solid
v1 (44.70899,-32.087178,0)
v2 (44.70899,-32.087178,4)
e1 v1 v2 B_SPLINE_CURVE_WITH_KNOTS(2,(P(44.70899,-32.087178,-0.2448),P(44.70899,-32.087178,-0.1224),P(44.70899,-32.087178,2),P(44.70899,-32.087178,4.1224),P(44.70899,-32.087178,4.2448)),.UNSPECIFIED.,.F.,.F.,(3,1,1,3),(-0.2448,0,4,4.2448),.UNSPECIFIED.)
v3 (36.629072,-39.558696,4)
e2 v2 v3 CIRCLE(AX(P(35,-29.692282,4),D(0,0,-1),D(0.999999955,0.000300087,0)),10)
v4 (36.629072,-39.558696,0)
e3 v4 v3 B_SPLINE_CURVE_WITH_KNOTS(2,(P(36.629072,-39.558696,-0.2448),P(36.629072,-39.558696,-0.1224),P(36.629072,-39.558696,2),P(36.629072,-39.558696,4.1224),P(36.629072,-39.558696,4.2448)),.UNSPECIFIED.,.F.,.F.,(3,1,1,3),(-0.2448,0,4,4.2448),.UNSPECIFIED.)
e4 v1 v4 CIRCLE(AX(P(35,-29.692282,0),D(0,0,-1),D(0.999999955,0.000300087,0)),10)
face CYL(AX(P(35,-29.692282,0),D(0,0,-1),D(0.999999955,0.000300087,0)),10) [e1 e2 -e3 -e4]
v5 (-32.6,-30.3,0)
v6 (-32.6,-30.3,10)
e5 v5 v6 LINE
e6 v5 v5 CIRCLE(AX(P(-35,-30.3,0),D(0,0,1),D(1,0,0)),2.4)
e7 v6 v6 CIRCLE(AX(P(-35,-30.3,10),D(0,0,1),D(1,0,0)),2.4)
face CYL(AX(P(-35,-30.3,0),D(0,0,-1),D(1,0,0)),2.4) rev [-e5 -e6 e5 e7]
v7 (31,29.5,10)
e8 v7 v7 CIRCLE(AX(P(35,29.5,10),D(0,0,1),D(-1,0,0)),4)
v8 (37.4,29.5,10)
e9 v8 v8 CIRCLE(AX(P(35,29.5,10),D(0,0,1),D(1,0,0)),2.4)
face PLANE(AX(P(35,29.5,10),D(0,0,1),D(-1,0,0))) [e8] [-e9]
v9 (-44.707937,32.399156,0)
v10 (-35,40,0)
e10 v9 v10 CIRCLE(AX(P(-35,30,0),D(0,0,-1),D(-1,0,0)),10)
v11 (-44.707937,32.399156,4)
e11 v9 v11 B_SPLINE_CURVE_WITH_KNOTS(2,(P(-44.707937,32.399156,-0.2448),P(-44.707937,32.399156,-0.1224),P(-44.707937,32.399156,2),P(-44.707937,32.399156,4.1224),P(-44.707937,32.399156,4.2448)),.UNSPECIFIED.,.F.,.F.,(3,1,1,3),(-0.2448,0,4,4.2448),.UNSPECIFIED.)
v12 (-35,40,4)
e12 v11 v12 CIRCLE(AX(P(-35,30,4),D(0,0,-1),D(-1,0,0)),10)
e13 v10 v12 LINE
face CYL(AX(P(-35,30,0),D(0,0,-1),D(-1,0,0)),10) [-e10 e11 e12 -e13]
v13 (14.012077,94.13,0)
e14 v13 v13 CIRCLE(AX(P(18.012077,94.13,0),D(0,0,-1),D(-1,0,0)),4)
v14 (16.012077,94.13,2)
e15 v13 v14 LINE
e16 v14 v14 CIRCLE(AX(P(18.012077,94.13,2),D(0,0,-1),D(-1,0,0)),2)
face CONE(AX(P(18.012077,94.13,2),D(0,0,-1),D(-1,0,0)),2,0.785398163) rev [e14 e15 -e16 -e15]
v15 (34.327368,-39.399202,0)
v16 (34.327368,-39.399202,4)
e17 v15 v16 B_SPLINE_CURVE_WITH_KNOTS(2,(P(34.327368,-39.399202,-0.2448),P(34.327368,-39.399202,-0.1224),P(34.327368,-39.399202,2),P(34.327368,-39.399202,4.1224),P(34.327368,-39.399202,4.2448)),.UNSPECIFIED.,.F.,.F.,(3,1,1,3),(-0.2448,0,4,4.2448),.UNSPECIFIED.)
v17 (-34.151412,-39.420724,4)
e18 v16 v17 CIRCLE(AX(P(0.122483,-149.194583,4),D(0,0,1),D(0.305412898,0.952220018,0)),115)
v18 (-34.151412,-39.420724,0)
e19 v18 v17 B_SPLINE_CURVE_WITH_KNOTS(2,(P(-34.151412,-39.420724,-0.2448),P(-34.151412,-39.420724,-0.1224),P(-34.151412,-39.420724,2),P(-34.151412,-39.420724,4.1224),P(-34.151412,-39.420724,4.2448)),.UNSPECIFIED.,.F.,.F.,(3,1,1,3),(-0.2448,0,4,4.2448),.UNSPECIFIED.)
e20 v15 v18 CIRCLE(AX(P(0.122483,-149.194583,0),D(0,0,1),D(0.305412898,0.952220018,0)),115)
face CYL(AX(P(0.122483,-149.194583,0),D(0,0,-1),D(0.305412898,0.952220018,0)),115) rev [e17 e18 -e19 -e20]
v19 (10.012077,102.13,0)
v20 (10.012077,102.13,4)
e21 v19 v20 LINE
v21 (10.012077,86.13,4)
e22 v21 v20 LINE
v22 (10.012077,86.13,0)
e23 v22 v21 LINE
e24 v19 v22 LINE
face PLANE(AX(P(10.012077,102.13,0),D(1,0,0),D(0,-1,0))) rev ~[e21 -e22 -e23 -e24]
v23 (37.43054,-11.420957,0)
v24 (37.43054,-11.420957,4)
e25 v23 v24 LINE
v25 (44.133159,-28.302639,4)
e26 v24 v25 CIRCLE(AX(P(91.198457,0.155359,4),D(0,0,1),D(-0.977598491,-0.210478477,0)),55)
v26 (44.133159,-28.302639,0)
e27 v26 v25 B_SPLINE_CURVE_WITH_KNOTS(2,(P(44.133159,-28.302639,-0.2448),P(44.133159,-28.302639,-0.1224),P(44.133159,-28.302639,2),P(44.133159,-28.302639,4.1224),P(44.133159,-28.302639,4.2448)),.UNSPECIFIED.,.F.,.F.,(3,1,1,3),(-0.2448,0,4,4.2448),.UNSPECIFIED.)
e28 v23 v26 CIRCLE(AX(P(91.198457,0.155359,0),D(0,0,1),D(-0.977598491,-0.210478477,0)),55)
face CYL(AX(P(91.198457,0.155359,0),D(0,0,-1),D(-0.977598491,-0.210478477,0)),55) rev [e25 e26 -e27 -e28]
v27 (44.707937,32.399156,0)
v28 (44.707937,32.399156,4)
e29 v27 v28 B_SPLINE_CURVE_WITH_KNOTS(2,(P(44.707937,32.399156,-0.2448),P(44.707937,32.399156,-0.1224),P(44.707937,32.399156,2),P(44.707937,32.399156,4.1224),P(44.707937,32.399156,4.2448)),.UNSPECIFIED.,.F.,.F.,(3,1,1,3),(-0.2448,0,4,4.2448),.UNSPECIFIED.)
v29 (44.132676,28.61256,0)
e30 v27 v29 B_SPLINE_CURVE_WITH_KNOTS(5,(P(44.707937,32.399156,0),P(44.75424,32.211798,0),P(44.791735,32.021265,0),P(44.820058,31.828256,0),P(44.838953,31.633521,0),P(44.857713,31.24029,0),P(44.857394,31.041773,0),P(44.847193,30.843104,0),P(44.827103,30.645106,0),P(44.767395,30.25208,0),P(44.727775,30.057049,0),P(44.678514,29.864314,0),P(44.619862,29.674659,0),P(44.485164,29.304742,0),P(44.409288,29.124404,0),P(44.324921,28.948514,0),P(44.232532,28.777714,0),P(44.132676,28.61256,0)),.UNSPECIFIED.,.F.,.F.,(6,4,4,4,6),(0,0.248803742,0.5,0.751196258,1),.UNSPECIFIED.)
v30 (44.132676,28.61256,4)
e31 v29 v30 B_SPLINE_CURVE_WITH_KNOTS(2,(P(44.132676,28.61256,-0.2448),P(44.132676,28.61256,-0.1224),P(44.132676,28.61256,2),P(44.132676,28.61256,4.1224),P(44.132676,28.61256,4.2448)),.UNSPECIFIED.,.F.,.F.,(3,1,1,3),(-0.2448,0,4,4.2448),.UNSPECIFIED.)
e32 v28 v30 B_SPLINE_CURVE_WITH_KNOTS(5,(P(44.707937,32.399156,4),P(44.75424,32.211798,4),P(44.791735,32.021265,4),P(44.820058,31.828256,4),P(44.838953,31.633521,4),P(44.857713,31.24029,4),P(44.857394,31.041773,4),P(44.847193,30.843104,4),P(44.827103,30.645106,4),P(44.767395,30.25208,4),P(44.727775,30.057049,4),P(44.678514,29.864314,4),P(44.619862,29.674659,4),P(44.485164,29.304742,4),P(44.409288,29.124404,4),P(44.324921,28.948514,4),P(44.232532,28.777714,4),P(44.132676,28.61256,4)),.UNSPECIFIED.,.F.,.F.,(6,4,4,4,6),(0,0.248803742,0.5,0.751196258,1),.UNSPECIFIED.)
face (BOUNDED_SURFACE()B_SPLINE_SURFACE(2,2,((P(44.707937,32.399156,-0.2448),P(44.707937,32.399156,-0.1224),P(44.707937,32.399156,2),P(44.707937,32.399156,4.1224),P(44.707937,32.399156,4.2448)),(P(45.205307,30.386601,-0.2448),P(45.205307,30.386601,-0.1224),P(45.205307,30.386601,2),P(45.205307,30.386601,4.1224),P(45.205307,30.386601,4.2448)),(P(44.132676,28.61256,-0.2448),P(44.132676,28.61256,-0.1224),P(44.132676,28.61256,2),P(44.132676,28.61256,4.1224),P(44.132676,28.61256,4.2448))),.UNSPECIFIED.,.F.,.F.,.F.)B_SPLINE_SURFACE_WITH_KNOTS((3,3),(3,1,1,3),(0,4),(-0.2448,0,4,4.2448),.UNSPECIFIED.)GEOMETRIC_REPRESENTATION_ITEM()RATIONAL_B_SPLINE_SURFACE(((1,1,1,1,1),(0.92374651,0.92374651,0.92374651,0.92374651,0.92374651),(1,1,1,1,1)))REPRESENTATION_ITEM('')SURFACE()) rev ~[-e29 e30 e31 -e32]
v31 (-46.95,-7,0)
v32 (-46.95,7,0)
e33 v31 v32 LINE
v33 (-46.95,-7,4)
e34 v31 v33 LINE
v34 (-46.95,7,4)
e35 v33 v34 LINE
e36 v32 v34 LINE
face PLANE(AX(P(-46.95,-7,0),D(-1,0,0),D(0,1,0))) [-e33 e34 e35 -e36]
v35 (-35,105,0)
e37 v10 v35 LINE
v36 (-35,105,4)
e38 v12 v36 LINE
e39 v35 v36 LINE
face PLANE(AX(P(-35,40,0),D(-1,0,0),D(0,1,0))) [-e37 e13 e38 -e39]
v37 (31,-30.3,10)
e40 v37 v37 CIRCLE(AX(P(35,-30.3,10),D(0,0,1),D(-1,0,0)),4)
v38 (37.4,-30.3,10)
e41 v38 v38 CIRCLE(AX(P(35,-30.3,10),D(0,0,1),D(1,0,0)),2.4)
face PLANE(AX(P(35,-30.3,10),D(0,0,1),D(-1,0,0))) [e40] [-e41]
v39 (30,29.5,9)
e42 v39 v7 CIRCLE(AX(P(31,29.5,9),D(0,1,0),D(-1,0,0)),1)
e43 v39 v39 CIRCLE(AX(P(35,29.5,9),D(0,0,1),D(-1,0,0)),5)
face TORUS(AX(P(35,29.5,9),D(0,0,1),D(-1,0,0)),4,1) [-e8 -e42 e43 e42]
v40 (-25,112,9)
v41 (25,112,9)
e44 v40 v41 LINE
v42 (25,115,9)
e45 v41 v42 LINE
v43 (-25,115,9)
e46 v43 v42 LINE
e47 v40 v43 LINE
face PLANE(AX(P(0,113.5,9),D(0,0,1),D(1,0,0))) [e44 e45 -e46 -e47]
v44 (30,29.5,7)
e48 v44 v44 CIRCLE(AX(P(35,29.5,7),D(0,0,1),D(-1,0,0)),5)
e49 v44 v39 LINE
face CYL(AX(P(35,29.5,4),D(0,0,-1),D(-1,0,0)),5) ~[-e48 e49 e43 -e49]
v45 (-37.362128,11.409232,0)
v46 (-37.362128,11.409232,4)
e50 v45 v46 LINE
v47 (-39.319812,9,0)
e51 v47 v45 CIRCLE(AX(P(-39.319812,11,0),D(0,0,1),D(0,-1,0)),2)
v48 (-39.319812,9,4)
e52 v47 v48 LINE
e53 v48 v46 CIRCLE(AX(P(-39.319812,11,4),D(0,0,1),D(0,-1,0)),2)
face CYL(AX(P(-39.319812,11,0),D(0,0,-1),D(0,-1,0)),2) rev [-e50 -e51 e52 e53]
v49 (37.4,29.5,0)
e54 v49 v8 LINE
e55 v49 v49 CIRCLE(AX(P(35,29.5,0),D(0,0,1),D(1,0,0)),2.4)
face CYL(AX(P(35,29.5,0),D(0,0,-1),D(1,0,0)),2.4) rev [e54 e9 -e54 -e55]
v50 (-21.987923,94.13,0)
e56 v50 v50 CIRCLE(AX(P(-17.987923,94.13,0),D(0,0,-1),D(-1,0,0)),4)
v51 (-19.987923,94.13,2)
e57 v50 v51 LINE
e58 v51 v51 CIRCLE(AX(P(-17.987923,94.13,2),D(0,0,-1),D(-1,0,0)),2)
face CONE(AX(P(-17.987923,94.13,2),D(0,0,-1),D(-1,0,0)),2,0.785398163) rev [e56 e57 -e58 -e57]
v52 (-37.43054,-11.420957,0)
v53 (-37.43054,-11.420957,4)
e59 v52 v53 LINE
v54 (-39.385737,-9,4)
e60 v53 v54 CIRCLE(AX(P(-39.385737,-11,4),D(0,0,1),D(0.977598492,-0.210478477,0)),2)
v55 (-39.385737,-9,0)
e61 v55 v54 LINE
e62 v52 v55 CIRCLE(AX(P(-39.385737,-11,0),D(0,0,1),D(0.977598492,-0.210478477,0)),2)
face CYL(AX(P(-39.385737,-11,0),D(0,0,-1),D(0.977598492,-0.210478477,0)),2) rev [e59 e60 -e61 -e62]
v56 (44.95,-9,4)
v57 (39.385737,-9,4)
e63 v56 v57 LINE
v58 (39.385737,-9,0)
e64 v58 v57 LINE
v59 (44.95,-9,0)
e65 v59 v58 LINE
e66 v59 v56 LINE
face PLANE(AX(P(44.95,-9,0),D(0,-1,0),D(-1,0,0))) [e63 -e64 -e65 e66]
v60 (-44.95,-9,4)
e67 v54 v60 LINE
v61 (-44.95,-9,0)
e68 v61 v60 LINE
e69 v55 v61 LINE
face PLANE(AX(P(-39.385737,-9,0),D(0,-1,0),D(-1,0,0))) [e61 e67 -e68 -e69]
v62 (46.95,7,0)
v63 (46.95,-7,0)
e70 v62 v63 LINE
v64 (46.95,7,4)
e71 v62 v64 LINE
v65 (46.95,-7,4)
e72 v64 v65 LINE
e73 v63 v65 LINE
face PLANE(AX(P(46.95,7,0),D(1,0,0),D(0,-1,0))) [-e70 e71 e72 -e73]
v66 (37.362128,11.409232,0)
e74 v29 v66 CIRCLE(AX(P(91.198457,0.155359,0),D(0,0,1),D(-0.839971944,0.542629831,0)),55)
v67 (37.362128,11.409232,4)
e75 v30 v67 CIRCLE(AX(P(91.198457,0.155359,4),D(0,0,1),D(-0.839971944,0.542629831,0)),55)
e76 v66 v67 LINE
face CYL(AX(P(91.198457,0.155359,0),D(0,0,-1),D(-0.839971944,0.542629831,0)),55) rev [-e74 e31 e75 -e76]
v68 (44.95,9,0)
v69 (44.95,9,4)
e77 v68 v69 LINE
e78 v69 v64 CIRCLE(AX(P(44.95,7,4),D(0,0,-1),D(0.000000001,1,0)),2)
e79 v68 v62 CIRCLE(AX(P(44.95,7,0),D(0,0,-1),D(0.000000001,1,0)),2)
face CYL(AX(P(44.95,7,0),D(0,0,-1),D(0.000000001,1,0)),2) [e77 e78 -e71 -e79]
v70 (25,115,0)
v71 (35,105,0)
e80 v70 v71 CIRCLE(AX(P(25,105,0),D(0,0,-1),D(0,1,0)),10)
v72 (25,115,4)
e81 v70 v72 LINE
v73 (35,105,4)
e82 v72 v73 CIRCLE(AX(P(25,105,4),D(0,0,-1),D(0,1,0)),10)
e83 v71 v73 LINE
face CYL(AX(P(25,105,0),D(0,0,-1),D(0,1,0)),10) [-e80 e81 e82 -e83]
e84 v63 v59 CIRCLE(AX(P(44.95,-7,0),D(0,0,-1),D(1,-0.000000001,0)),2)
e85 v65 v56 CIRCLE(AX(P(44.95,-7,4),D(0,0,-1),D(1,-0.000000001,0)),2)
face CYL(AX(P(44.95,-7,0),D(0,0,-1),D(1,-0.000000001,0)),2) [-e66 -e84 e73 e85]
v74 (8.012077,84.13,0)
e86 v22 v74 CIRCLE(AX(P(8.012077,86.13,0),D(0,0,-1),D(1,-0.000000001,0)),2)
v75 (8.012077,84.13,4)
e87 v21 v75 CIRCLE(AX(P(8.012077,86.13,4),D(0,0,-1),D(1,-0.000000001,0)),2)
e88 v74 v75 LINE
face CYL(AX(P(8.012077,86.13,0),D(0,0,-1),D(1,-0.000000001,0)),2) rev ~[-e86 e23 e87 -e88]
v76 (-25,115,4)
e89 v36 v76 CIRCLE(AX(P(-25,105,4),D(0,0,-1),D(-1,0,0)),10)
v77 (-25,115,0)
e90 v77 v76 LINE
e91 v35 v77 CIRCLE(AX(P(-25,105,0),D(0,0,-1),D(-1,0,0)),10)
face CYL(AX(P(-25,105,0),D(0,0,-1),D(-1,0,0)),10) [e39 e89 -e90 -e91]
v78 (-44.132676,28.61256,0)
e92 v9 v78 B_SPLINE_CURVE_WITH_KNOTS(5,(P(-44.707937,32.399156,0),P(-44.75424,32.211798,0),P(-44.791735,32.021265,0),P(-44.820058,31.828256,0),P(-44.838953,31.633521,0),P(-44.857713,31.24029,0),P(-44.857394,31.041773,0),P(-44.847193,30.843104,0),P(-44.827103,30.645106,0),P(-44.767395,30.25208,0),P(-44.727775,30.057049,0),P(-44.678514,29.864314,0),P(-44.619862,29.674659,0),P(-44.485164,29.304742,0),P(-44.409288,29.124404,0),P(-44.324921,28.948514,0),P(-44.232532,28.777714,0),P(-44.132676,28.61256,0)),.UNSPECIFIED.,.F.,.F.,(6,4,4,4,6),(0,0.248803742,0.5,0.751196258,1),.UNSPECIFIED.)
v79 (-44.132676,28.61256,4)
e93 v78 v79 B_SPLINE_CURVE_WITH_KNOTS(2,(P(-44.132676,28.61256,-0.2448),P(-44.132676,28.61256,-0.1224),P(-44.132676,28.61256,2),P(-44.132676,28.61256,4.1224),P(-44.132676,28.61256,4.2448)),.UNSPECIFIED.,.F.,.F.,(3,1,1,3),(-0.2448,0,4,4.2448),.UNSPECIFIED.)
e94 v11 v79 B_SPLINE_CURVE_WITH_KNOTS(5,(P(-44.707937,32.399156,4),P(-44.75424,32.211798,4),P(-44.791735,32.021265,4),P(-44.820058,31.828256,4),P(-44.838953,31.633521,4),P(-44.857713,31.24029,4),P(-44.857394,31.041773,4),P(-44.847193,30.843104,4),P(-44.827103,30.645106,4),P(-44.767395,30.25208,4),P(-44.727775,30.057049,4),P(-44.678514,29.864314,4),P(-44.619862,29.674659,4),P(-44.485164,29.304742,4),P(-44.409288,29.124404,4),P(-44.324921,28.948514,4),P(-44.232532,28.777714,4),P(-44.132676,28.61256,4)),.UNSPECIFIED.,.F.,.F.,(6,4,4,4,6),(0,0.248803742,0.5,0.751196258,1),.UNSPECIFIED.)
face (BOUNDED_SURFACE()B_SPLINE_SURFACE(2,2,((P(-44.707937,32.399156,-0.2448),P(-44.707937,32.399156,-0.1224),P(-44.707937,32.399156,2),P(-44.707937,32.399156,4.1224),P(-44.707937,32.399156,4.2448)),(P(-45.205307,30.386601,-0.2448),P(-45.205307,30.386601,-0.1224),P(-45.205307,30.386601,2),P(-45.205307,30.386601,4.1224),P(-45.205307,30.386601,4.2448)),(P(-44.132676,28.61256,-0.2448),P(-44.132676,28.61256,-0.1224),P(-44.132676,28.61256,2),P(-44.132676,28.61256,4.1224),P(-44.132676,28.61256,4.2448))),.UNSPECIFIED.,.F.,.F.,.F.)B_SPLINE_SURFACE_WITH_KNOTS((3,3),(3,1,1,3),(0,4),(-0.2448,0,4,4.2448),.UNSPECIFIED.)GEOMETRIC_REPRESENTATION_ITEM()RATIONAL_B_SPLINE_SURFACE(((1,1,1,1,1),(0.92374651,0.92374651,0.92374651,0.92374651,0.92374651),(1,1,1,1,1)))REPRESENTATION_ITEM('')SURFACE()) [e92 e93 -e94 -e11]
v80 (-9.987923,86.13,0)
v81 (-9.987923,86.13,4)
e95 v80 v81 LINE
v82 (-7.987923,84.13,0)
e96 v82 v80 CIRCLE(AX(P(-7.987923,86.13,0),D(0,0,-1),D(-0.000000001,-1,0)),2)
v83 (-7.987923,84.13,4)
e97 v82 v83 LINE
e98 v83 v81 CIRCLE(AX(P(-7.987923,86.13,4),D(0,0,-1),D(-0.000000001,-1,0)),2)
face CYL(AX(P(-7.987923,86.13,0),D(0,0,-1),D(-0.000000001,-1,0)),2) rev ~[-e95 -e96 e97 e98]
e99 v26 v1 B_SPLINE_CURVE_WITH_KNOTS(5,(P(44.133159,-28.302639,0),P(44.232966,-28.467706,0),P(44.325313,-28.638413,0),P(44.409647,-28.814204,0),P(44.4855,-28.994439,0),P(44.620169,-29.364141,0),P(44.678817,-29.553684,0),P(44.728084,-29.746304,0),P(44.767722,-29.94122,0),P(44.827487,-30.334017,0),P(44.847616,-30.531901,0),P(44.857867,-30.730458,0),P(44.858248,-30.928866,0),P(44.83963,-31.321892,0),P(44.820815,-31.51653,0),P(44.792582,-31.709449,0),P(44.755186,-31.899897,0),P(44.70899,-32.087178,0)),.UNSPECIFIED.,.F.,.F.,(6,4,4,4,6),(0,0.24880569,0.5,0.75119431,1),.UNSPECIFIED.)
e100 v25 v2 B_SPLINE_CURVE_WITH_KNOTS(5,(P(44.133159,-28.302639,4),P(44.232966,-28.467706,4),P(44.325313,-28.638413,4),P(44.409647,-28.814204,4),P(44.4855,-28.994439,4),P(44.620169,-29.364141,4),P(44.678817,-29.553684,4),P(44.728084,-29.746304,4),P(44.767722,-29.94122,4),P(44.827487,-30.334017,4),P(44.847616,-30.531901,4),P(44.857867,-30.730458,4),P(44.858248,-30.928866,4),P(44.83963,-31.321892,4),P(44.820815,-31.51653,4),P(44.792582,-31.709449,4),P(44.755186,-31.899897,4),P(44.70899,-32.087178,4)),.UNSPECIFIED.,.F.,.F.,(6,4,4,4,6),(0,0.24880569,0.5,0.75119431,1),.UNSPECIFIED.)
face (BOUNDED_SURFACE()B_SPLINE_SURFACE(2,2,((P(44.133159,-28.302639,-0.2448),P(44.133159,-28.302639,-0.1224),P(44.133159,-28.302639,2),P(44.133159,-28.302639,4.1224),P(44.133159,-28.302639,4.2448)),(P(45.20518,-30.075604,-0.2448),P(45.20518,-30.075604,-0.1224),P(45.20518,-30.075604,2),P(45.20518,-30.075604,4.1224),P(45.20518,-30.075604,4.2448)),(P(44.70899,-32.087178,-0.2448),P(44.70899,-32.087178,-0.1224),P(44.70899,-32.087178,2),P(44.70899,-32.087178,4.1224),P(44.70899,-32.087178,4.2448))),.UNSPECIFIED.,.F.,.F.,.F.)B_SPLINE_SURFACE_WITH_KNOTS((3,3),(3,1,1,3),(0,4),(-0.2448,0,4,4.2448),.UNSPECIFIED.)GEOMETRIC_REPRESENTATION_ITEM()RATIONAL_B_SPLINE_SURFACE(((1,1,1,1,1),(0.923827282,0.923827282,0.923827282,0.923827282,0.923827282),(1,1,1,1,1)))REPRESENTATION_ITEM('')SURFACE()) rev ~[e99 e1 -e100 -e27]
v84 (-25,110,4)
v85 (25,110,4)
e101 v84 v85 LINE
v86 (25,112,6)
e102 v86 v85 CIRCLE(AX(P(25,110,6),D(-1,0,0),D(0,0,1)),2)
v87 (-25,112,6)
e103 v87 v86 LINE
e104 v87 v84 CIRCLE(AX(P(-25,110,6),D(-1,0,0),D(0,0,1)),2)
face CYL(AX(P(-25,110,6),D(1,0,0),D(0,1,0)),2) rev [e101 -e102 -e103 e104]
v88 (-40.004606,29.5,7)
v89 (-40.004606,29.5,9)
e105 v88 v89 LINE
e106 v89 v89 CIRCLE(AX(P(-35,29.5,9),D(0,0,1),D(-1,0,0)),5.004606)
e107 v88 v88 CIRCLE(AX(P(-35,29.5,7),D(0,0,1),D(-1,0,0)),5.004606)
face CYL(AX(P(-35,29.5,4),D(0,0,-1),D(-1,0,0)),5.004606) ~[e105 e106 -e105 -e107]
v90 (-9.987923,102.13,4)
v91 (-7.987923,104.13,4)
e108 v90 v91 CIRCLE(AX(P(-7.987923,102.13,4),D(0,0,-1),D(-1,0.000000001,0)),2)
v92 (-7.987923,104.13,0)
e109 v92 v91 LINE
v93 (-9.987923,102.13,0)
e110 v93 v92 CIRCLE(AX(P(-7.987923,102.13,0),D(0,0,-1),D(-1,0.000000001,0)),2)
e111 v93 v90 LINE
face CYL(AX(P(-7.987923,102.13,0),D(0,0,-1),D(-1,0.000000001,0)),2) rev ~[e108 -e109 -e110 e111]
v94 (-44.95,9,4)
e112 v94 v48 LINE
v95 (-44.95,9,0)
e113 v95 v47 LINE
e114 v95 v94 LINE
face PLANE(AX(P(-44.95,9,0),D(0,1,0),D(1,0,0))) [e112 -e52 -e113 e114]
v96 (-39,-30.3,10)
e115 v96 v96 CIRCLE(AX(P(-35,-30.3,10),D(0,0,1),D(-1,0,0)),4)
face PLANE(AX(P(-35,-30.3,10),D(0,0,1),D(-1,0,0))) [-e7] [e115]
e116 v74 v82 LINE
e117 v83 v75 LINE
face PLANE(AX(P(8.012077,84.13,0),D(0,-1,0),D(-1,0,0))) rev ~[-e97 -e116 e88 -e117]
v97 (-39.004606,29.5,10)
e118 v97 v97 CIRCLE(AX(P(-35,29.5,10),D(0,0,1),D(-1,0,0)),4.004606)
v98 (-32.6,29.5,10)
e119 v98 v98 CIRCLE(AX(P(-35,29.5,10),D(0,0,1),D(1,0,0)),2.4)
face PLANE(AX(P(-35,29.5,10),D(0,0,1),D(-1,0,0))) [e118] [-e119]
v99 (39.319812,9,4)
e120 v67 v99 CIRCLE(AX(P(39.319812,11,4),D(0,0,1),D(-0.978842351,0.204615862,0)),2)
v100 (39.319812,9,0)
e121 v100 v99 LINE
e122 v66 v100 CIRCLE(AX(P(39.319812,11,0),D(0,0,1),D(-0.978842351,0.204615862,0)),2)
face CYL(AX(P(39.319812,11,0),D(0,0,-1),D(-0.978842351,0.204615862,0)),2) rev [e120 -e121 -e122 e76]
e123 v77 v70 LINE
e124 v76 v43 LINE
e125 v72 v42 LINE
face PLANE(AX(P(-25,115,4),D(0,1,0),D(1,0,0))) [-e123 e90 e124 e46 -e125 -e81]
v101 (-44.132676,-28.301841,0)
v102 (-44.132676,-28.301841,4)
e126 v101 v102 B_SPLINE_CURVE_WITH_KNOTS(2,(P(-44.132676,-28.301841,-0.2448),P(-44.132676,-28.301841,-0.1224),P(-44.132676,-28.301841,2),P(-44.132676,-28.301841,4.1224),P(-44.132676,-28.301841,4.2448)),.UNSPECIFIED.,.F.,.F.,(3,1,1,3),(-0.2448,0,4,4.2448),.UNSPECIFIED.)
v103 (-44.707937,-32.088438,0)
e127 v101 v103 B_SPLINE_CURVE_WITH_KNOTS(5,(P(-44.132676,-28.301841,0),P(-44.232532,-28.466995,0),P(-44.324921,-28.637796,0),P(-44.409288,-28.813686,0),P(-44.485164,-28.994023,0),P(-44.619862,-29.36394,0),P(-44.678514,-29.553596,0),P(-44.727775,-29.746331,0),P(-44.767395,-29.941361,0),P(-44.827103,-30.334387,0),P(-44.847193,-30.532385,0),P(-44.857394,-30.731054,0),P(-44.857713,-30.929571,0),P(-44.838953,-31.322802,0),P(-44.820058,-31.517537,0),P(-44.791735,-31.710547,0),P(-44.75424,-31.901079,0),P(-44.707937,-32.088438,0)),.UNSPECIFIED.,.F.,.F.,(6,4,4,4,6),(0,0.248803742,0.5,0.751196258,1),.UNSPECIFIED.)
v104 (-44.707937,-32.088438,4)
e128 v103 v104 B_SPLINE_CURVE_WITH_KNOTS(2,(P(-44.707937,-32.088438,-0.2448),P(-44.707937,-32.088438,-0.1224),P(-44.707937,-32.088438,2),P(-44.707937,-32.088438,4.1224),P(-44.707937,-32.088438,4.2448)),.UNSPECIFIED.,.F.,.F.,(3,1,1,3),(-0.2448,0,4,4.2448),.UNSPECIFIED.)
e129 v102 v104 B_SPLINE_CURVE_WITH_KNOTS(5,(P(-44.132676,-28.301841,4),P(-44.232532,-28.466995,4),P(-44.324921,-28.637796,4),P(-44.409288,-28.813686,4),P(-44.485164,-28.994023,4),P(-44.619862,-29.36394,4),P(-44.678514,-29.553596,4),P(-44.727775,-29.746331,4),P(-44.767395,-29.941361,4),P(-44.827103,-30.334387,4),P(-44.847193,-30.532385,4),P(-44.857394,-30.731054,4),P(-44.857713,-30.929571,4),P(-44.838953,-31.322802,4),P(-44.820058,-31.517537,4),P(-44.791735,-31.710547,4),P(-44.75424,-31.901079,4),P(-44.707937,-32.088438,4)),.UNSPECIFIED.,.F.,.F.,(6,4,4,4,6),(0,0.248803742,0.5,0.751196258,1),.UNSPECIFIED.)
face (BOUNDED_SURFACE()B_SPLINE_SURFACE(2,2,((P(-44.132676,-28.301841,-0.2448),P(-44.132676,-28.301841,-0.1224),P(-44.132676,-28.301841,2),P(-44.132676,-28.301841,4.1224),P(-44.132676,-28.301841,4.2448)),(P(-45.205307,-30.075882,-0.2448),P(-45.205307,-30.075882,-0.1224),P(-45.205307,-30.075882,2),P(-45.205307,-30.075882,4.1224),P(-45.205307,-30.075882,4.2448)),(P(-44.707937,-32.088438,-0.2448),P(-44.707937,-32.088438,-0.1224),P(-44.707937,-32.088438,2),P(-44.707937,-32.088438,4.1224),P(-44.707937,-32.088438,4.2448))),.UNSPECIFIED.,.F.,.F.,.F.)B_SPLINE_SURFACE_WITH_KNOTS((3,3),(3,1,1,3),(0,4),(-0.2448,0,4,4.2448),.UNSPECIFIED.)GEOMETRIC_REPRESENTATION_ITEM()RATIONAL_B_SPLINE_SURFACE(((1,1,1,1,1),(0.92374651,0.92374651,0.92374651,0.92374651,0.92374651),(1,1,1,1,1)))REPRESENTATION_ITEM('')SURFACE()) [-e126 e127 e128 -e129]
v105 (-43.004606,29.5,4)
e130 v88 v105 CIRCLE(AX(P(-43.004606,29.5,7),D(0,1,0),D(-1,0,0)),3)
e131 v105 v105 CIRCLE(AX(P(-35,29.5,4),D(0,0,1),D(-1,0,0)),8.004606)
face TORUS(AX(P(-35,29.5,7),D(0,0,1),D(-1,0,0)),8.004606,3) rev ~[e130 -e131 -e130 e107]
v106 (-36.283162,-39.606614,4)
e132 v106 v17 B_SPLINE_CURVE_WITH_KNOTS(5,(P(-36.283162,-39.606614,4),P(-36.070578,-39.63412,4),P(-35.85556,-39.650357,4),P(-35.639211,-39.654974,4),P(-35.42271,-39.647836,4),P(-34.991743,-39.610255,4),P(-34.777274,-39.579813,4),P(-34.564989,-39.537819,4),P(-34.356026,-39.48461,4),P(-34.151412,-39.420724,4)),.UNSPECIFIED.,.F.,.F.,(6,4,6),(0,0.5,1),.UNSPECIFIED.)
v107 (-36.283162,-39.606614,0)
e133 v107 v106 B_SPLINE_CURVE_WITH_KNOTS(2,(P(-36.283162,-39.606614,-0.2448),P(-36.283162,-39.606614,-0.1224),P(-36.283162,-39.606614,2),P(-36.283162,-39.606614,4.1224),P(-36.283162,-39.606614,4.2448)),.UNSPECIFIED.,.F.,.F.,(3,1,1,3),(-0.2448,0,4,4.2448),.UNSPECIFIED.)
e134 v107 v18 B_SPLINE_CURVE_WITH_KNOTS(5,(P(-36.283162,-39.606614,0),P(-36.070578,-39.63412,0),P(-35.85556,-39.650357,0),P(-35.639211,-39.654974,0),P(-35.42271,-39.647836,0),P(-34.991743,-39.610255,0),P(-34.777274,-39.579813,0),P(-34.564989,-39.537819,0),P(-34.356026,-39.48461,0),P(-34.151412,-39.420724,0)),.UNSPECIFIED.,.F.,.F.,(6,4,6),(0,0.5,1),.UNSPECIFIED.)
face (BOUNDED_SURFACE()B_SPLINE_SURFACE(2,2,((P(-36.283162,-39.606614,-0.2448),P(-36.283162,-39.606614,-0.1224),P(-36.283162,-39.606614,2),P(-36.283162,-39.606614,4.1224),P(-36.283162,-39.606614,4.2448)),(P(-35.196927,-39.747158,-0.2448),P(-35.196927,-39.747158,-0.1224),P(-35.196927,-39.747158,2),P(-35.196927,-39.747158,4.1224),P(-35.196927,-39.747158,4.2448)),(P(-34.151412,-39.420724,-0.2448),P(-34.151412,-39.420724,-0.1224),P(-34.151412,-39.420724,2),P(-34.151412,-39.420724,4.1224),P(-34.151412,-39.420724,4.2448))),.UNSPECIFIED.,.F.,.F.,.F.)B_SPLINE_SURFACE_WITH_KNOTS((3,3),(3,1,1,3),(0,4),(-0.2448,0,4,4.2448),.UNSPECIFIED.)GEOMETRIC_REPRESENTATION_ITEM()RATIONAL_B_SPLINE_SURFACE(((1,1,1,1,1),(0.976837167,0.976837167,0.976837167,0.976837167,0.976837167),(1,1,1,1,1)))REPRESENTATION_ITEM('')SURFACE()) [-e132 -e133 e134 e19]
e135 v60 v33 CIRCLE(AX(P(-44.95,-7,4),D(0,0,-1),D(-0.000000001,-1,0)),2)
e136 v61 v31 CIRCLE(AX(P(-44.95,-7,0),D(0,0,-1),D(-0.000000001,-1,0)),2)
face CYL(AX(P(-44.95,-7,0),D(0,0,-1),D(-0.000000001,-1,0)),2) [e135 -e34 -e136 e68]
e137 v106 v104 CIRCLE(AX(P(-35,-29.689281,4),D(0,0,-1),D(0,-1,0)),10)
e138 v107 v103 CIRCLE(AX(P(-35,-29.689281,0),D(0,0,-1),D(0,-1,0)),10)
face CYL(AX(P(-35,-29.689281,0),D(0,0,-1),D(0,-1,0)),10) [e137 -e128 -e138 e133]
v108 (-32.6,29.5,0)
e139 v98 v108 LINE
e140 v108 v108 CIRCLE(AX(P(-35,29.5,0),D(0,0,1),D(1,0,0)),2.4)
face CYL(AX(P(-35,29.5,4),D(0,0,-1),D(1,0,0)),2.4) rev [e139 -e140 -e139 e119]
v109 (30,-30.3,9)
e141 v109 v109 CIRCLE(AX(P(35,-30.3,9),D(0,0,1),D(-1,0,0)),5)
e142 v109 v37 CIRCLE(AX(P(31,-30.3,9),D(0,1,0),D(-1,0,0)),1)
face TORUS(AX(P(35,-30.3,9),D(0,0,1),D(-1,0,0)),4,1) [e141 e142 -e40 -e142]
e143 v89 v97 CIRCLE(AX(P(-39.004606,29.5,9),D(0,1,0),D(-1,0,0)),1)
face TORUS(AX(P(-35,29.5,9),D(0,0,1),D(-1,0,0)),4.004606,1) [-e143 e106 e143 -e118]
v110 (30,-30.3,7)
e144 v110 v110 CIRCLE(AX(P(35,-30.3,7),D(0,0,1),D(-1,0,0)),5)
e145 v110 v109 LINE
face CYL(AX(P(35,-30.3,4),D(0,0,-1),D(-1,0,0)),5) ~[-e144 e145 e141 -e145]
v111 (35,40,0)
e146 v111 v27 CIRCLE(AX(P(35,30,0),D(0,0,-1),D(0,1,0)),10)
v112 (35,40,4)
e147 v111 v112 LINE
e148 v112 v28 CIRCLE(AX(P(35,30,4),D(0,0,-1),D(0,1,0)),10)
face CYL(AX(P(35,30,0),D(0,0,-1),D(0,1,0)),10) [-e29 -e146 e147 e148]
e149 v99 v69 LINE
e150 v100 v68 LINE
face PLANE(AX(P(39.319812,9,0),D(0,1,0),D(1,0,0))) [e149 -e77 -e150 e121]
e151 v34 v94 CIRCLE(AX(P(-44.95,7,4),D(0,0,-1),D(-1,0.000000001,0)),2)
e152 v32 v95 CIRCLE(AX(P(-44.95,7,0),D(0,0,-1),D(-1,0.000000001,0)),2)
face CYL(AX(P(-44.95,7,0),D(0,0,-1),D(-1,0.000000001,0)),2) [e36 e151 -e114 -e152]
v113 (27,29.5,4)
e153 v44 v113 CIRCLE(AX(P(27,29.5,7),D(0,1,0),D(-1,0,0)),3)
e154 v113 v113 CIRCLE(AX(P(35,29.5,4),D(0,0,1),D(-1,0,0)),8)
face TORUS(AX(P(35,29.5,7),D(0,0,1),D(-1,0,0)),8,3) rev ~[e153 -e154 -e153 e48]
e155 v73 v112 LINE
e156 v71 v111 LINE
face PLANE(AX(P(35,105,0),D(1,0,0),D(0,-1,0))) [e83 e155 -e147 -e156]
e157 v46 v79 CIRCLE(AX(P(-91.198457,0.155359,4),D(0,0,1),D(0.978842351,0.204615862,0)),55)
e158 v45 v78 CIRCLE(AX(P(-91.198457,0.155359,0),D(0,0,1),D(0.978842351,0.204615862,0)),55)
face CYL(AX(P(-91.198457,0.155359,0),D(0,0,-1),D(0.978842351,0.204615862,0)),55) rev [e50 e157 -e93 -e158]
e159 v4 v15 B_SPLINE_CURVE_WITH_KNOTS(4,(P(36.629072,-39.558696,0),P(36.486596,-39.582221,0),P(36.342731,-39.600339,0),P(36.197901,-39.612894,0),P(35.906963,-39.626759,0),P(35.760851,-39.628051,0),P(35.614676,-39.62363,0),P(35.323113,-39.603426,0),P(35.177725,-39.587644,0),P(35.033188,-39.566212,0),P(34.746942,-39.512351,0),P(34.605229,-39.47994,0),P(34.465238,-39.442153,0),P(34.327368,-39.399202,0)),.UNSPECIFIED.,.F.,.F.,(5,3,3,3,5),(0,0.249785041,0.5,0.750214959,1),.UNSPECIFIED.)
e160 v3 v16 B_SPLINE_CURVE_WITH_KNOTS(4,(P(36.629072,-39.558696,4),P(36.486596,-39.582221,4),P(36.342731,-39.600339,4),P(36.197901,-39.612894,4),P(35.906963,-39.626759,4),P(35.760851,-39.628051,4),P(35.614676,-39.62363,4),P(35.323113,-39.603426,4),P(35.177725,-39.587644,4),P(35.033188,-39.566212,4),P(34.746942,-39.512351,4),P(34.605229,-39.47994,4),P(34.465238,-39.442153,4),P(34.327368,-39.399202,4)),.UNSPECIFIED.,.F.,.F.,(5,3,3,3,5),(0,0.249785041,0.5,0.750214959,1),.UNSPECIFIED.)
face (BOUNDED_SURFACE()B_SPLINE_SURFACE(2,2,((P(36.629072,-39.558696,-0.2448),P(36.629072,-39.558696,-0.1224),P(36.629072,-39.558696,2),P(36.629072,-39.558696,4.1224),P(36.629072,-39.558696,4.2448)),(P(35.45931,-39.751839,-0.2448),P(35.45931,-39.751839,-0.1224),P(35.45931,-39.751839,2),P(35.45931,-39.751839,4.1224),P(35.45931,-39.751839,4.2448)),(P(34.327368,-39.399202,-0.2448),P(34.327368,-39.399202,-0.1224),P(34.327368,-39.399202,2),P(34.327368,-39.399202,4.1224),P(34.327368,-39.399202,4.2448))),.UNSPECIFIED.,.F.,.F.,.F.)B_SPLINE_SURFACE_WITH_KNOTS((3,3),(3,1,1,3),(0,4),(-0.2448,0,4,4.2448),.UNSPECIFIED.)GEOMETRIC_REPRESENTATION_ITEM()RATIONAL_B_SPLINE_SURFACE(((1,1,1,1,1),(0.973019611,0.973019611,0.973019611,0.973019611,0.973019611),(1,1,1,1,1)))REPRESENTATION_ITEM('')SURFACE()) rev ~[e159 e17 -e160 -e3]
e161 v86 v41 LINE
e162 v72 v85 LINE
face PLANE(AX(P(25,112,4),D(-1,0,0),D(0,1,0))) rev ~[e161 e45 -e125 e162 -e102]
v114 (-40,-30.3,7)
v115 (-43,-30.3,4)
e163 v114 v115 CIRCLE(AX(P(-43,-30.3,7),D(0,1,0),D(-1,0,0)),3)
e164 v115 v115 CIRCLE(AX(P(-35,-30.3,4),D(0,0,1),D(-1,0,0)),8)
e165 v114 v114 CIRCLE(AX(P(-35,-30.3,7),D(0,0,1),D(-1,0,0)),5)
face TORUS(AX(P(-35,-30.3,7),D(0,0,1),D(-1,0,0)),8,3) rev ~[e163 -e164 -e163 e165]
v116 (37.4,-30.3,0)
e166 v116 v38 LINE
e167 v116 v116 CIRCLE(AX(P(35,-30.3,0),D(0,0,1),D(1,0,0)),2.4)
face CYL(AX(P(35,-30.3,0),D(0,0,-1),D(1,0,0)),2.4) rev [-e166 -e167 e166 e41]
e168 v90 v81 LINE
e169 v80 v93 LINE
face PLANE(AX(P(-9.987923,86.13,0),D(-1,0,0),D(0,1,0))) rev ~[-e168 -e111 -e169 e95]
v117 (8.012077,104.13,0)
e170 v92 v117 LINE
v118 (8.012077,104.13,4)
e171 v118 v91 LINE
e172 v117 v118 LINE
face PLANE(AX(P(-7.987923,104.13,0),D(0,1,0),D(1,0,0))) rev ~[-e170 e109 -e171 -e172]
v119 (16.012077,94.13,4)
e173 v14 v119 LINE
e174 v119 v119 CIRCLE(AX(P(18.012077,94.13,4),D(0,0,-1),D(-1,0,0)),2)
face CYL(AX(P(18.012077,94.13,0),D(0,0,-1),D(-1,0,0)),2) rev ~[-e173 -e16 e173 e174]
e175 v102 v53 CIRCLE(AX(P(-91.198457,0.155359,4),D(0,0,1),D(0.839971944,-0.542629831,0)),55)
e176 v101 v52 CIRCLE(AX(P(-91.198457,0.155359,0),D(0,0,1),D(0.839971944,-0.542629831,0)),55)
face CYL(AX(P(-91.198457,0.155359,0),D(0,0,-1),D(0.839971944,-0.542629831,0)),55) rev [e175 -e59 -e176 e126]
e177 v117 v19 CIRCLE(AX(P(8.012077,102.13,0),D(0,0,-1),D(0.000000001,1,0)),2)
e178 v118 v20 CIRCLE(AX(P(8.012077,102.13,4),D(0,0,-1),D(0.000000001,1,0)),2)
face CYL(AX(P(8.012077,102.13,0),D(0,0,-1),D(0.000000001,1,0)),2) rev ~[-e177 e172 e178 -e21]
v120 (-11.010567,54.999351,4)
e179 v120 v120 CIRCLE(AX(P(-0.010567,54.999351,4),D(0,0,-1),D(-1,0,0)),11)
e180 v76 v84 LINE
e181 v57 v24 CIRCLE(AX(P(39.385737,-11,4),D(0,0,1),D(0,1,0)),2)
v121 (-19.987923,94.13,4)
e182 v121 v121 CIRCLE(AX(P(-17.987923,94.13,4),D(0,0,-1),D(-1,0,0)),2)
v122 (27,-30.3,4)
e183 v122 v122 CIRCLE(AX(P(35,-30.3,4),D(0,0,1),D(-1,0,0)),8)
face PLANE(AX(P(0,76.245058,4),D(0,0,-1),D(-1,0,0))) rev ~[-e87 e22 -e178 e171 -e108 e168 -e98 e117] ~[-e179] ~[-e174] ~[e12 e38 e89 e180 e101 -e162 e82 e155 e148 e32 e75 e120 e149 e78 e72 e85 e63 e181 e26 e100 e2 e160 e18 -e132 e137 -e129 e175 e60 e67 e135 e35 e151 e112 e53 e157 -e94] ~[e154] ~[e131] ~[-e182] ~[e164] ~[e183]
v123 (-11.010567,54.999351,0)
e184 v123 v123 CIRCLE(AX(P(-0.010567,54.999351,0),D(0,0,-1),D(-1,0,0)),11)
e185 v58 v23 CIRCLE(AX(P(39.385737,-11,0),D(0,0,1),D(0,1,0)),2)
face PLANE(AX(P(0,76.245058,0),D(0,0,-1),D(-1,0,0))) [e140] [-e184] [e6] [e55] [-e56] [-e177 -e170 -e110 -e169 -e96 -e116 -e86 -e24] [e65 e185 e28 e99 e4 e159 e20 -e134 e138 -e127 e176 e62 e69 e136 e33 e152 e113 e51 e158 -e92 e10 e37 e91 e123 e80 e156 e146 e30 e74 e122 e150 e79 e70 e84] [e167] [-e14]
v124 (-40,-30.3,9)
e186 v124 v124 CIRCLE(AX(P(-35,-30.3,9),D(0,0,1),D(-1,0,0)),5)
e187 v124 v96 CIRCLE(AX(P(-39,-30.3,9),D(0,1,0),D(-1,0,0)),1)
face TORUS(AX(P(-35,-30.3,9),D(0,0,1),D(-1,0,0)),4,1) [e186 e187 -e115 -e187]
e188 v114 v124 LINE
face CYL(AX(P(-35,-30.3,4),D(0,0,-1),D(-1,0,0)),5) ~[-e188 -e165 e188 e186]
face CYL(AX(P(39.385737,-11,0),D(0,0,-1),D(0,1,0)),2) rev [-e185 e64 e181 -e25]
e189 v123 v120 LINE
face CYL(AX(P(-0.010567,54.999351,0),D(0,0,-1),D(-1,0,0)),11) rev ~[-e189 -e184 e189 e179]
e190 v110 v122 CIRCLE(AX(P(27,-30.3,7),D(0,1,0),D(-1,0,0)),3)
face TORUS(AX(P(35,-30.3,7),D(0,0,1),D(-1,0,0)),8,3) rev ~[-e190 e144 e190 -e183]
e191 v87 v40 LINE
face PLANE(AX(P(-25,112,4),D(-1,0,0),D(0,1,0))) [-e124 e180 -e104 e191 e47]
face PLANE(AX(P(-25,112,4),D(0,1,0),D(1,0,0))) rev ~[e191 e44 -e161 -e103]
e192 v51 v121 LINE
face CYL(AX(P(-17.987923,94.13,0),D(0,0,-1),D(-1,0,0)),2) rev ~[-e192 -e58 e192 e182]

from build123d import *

# Parameters (mm, degrees)
SKETCH1_R           = 2.4
BOSS_EXTRUDE1_DEPTH = 4
SKETCH2_R           = 5.004606442
SKETCH2_R_2         = 2.4
SKETCH2_R_3         = 5
BOSS_EXTRUDE2_DEPTH = 6
FILLET1_R           = 3
FILLET2_R           = 1
FILLET3_R           = 5
BOSS_EXTRUDE3_DEPTH = 4
CUT_EXTRUDE1_REACH  = 126.617
SKETCH4_R           = 2
SKETCH4_R_2         = 11
CHAMFER2_SIZE       = 2
SKETCH5_W           = 50
SKETCH5_H           = 3
BOSS_EXTRUDE4_DEPTH = 5
FILLET4_R           = 2


with BuildPart() as part:
    # Sketch1 → Boss-Extrude1 (new body)
    with BuildSketch(Plane.XY):
        with BuildLine():
            Line((-35, 40), (35, 40))
            ThreePointArc((35, 40), (42.071067812, 37.071067812), (45, 30))
            ThreePointArc((45, 30), (40.324654416, 21.056464988), (37.362127592, 11.409231724))
            ThreePointArc((37.362127592, 11.409231724), (37.76764229, 9.738743374), (39.319812295, 9))
            Line((39.319812295, 9), (44.95, 9))
            ThreePointArc((44.95, 9), (46.364213562, 8.414213562), (46.95, 7))
            Line((46.95, 7), (46.95, -7))
            ThreePointArc((46.95, -7), (46.364213562, -8.414213562), (44.95, -9))
            Line((44.95, -9), (39.385736873, -9))
            ThreePointArc((39.385736873, -9), (37.829794408, -9.743400205), (37.43053989, -11.420956955))
            ThreePointArc((37.43053989, -11.420956955), (40.387514205, -20.898098851), (45, -29.689281388))
            ThreePointArc((45, -29.689281388), (42.158200619, -36.675130552), (35.244966425, -39.689281388))
            ThreePointArc((35.244966425, -39.689281388), (0.122483213, -34.194583419), (-35, -39.689281388))
            ThreePointArc((-35, -39.689281388), (-42.071067812, -36.7603492), (-45, -29.689281388))
            ThreePointArc((-45, -29.689281388), (-40.387514205, -20.898098851), (-37.43053989, -11.420956955))
            ThreePointArc((-37.43053989, -11.420956955), (-37.829794408, -9.743400205), (-39.385736873, -9))
            Line((-39.385736873, -9), (-44.95, -9))
            ThreePointArc((-44.95, -9), (-46.364213562, -8.414213562), (-46.95, -7))
            Line((-46.95, -7), (-46.95, 7))
            ThreePointArc((-46.95, 7), (-46.364213562, 8.414213562), (-44.95, 9))
            Line((-44.95, 9), (-39.319812295, 9))
            ThreePointArc((-39.319812295, 9), (-37.76764229, 9.738743374), (-37.362127592, 11.409231724))
            ThreePointArc((-37.362127592, 11.409231724), (-40.324654416, 21.056464988), (-45, 30))
            ThreePointArc((-45, 30), (-42.071067812, 37.071067812), (-35, 40))
        make_face()
        with Locations((-35, 29.5)):
            Circle(SKETCH1_R, mode=Mode.SUBTRACT)
        with Locations((35, 29.5)):
            Circle(SKETCH1_R, mode=Mode.SUBTRACT)
        with Locations((-35, -30.3)):
            Circle(SKETCH1_R, mode=Mode.SUBTRACT)
        with Locations((35, -30.3)):
            Circle(SKETCH1_R, mode=Mode.SUBTRACT)
    extrude(amount=BOSS_EXTRUDE1_DEPTH)

    # Sketch2 → Boss-Extrude2 (add)
    # profile 1 of 4: a face of its own
    with BuildSketch(Plane.XY.offset(4)):
        with Locations(Location((-35, 29.5, 0), (0, 0, 180))):
            Circle(SKETCH2_R)
        with Locations((-35, 29.5)):
            Circle(SKETCH2_R_2, mode=Mode.SUBTRACT)
    # profile 2 of 4: a face of its own
    with BuildSketch(Plane.XY.offset(4)):
        with Locations(Location((35, 29.5, 0), (0, 0, 180))):
            Circle(SKETCH2_R_3)
        with Locations((35, 29.5)):
            Circle(SKETCH2_R_2, mode=Mode.SUBTRACT)
    # profile 3 of 4: a face of its own
    with BuildSketch(Plane.XY.offset(4)):
        with Locations(Location((-35, -30.3, 0), (0, 0, 180))):
            Circle(SKETCH2_R_3)
        with Locations((-35, -30.3)):
            Circle(SKETCH2_R_2, mode=Mode.SUBTRACT)
    # profile 4 of 4: a face of its own
    with BuildSketch(Plane.XY.offset(4)):
        with Locations(Location((35, -30.3, 0), (0, 0, 180))):
            Circle(SKETCH2_R_3)
        with Locations((35, -30.3)):
            Circle(SKETCH2_R_2, mode=Mode.SUBTRACT)
    extrude(amount=BOSS_EXTRUDE2_DEPTH)

    # Fillet1
    fillet1_edges = [part.edges().sort_by_distance(p)[0] for p in [
        (-29.995393558, 29.5, 4),
        (40, 29.5, 4),
        (-30, -30.3, 4),
        (40, -30.3, 4),
    ]]
    fillet(fillet1_edges, radius=FILLET1_R)

    # Fillet2
    fillet2_edges = [part.edges().sort_by_distance(p)[0] for p in [
        (-29.995393558, 29.5, 10),
        (40, 29.5, 10),
        (-30, -30.3, 10),
        (40, -30.3, 10),
    ]]
    fillet(fillet2_edges, radius=FILLET2_R)

    # Fillet3
    fillet3_edges = [part.edges().sort_by_distance(p)[0] for p in [
        (45, 30, 2),
        (45, -29.689281388, 2),
        (35.244966425, -39.689281388, 2),
        (-35, -39.689281388, 2),
        (-45, -29.689281388, 2),
        (-45, 30, 2),
    ]]
    fillet(fillet3_edges, radius=FILLET3_R)

    # Sketch3 → Boss-Extrude3 (add)
    with BuildSketch(Plane(origin=(0, 0, 0), x_dir=(-1, 0, 0), z_dir=(0, 0, -1))):
        with BuildLine():
            Line((-35, 40), (35, 40))
            Line((35, 40), (35, 105))
            ThreePointArc((35, 105), (32.071067812, 112.071067812), (25, 115))
            Line((25, 115), (-25, 115))
            ThreePointArc((-25, 115), (-32.071067812, 112.071067812), (-35, 105))
            Line((-35, 105), (-35, 40))
        make_face()
    extrude(amount=-BOSS_EXTRUDE3_DEPTH)

    # Sketch4 → Cut-Extrude1 (cut, up to next)
    with BuildSketch(Plane(origin=(0, 0, 0), x_dir=(-1, 0, 0), z_dir=(0, 0, -1)), mode=Mode.PRIVATE) as cut_extrude1_sk1:
        with Locations((-18.012077439, 94.13)):
            Circle(SKETCH4_R)
    cut_extrude1_tool1 = extrude(cut_extrude1_sk1.sketch, amount=-CUT_EXTRUDE1_REACH, mode=Mode.PRIVATE) & part.part
    # Sketch4 → Cut-Extrude1 (cut, up to next)
    with BuildSketch(Plane(origin=(0, 0, 0), x_dir=(-1, 0, 0), z_dir=(0, 0, -1)), mode=Mode.PRIVATE) as cut_extrude1_sk2:
        with Locations((17.987922561, 94.13)):
            Circle(SKETCH4_R)
    cut_extrude1_tool2 = extrude(cut_extrude1_sk2.sketch, amount=-CUT_EXTRUDE1_REACH, mode=Mode.PRIVATE) & part.part
    # Sketch4 → Cut-Extrude1 (cut, up to next)
    with BuildSketch(Plane(origin=(0, 0, 0), x_dir=(-1, 0, 0), z_dir=(0, 0, -1)), mode=Mode.PRIVATE) as cut_extrude1_sk3:
        with Locations((0.010567412, 54.999350628)):
            Circle(SKETCH4_R_2)
    cut_extrude1_tool3 = extrude(cut_extrude1_sk3.sketch, amount=-CUT_EXTRUDE1_REACH, mode=Mode.PRIVATE) & part.part
    # Sketch4 → Cut-Extrude1 (cut, up to next)
    with BuildSketch(Plane(origin=(0, 0, 0), x_dir=(-1, 0, 0), z_dir=(0, 0, -1)), mode=Mode.PRIVATE) as cut_extrude1_sk4:
        with BuildLine():
            Line((-8.012077439, 84.13), (7.987922561, 84.13))
            ThreePointArc((7.987922561, 84.13), (9.402136123, 84.715786438), (9.987922561, 86.13))
            Line((9.987922561, 86.13), (9.987922561, 102.13))
            ThreePointArc((9.987922561, 102.13), (9.402136123, 103.544213562), (7.987922561, 104.13))
            Line((7.987922561, 104.13), (-8.012077439, 104.13))
            ThreePointArc((-8.012077439, 104.13), (-9.426291001, 103.544213562), (-10.012077439, 102.13))
            Line((-10.012077439, 102.13), (-10.012077439, 86.13))
            ThreePointArc((-10.012077439, 86.13), (-9.426291001, 84.715786438), (-8.012077439, 84.13))
        make_face()
    cut_extrude1_tool4 = extrude(cut_extrude1_sk4.sketch, amount=-CUT_EXTRUDE1_REACH, mode=Mode.PRIVATE) & part.part
    add(cut_extrude1_tool1.solids().sort_by_distance((18.012077, 94.13, 0))[0], mode=Mode.SUBTRACT)
    add(cut_extrude1_tool2.solids().sort_by_distance((-17.987923, 94.13, 0))[0], mode=Mode.SUBTRACT)
    add(cut_extrude1_tool3.solids().sort_by_distance((-0.010567, 54.999351, 0))[0], mode=Mode.SUBTRACT)
    add(cut_extrude1_tool4.solids().sort_by_distance((0.012077, 94.13, 0))[0], mode=Mode.SUBTRACT)

    # Chamfer2
    chamfer2_edges = [part.edges().sort_by_distance(p)[0] for p in [
        (20.012077439, 94.13, 0),
        (-15.987922561, 94.13, 0),
    ]]
    chamfer(chamfer2_edges, length=CHAMFER2_SIZE)

    # Sketch5 → Boss-Extrude4 (add)
    with BuildSketch(Plane.XY.offset(4)):
        with Locations((0, 113.5)):
            Rectangle(SKETCH5_W, SKETCH5_H)
    extrude(amount=BOSS_EXTRUDE4_DEPTH)

    # Fillet4
    fillet4_edges = [part.edges().sort_by_distance(p)[0] for p in [
        (0, 112, 4),
    ]]
    fillet(fillet4_edges, radius=FILLET4_R)


solid = part.part
